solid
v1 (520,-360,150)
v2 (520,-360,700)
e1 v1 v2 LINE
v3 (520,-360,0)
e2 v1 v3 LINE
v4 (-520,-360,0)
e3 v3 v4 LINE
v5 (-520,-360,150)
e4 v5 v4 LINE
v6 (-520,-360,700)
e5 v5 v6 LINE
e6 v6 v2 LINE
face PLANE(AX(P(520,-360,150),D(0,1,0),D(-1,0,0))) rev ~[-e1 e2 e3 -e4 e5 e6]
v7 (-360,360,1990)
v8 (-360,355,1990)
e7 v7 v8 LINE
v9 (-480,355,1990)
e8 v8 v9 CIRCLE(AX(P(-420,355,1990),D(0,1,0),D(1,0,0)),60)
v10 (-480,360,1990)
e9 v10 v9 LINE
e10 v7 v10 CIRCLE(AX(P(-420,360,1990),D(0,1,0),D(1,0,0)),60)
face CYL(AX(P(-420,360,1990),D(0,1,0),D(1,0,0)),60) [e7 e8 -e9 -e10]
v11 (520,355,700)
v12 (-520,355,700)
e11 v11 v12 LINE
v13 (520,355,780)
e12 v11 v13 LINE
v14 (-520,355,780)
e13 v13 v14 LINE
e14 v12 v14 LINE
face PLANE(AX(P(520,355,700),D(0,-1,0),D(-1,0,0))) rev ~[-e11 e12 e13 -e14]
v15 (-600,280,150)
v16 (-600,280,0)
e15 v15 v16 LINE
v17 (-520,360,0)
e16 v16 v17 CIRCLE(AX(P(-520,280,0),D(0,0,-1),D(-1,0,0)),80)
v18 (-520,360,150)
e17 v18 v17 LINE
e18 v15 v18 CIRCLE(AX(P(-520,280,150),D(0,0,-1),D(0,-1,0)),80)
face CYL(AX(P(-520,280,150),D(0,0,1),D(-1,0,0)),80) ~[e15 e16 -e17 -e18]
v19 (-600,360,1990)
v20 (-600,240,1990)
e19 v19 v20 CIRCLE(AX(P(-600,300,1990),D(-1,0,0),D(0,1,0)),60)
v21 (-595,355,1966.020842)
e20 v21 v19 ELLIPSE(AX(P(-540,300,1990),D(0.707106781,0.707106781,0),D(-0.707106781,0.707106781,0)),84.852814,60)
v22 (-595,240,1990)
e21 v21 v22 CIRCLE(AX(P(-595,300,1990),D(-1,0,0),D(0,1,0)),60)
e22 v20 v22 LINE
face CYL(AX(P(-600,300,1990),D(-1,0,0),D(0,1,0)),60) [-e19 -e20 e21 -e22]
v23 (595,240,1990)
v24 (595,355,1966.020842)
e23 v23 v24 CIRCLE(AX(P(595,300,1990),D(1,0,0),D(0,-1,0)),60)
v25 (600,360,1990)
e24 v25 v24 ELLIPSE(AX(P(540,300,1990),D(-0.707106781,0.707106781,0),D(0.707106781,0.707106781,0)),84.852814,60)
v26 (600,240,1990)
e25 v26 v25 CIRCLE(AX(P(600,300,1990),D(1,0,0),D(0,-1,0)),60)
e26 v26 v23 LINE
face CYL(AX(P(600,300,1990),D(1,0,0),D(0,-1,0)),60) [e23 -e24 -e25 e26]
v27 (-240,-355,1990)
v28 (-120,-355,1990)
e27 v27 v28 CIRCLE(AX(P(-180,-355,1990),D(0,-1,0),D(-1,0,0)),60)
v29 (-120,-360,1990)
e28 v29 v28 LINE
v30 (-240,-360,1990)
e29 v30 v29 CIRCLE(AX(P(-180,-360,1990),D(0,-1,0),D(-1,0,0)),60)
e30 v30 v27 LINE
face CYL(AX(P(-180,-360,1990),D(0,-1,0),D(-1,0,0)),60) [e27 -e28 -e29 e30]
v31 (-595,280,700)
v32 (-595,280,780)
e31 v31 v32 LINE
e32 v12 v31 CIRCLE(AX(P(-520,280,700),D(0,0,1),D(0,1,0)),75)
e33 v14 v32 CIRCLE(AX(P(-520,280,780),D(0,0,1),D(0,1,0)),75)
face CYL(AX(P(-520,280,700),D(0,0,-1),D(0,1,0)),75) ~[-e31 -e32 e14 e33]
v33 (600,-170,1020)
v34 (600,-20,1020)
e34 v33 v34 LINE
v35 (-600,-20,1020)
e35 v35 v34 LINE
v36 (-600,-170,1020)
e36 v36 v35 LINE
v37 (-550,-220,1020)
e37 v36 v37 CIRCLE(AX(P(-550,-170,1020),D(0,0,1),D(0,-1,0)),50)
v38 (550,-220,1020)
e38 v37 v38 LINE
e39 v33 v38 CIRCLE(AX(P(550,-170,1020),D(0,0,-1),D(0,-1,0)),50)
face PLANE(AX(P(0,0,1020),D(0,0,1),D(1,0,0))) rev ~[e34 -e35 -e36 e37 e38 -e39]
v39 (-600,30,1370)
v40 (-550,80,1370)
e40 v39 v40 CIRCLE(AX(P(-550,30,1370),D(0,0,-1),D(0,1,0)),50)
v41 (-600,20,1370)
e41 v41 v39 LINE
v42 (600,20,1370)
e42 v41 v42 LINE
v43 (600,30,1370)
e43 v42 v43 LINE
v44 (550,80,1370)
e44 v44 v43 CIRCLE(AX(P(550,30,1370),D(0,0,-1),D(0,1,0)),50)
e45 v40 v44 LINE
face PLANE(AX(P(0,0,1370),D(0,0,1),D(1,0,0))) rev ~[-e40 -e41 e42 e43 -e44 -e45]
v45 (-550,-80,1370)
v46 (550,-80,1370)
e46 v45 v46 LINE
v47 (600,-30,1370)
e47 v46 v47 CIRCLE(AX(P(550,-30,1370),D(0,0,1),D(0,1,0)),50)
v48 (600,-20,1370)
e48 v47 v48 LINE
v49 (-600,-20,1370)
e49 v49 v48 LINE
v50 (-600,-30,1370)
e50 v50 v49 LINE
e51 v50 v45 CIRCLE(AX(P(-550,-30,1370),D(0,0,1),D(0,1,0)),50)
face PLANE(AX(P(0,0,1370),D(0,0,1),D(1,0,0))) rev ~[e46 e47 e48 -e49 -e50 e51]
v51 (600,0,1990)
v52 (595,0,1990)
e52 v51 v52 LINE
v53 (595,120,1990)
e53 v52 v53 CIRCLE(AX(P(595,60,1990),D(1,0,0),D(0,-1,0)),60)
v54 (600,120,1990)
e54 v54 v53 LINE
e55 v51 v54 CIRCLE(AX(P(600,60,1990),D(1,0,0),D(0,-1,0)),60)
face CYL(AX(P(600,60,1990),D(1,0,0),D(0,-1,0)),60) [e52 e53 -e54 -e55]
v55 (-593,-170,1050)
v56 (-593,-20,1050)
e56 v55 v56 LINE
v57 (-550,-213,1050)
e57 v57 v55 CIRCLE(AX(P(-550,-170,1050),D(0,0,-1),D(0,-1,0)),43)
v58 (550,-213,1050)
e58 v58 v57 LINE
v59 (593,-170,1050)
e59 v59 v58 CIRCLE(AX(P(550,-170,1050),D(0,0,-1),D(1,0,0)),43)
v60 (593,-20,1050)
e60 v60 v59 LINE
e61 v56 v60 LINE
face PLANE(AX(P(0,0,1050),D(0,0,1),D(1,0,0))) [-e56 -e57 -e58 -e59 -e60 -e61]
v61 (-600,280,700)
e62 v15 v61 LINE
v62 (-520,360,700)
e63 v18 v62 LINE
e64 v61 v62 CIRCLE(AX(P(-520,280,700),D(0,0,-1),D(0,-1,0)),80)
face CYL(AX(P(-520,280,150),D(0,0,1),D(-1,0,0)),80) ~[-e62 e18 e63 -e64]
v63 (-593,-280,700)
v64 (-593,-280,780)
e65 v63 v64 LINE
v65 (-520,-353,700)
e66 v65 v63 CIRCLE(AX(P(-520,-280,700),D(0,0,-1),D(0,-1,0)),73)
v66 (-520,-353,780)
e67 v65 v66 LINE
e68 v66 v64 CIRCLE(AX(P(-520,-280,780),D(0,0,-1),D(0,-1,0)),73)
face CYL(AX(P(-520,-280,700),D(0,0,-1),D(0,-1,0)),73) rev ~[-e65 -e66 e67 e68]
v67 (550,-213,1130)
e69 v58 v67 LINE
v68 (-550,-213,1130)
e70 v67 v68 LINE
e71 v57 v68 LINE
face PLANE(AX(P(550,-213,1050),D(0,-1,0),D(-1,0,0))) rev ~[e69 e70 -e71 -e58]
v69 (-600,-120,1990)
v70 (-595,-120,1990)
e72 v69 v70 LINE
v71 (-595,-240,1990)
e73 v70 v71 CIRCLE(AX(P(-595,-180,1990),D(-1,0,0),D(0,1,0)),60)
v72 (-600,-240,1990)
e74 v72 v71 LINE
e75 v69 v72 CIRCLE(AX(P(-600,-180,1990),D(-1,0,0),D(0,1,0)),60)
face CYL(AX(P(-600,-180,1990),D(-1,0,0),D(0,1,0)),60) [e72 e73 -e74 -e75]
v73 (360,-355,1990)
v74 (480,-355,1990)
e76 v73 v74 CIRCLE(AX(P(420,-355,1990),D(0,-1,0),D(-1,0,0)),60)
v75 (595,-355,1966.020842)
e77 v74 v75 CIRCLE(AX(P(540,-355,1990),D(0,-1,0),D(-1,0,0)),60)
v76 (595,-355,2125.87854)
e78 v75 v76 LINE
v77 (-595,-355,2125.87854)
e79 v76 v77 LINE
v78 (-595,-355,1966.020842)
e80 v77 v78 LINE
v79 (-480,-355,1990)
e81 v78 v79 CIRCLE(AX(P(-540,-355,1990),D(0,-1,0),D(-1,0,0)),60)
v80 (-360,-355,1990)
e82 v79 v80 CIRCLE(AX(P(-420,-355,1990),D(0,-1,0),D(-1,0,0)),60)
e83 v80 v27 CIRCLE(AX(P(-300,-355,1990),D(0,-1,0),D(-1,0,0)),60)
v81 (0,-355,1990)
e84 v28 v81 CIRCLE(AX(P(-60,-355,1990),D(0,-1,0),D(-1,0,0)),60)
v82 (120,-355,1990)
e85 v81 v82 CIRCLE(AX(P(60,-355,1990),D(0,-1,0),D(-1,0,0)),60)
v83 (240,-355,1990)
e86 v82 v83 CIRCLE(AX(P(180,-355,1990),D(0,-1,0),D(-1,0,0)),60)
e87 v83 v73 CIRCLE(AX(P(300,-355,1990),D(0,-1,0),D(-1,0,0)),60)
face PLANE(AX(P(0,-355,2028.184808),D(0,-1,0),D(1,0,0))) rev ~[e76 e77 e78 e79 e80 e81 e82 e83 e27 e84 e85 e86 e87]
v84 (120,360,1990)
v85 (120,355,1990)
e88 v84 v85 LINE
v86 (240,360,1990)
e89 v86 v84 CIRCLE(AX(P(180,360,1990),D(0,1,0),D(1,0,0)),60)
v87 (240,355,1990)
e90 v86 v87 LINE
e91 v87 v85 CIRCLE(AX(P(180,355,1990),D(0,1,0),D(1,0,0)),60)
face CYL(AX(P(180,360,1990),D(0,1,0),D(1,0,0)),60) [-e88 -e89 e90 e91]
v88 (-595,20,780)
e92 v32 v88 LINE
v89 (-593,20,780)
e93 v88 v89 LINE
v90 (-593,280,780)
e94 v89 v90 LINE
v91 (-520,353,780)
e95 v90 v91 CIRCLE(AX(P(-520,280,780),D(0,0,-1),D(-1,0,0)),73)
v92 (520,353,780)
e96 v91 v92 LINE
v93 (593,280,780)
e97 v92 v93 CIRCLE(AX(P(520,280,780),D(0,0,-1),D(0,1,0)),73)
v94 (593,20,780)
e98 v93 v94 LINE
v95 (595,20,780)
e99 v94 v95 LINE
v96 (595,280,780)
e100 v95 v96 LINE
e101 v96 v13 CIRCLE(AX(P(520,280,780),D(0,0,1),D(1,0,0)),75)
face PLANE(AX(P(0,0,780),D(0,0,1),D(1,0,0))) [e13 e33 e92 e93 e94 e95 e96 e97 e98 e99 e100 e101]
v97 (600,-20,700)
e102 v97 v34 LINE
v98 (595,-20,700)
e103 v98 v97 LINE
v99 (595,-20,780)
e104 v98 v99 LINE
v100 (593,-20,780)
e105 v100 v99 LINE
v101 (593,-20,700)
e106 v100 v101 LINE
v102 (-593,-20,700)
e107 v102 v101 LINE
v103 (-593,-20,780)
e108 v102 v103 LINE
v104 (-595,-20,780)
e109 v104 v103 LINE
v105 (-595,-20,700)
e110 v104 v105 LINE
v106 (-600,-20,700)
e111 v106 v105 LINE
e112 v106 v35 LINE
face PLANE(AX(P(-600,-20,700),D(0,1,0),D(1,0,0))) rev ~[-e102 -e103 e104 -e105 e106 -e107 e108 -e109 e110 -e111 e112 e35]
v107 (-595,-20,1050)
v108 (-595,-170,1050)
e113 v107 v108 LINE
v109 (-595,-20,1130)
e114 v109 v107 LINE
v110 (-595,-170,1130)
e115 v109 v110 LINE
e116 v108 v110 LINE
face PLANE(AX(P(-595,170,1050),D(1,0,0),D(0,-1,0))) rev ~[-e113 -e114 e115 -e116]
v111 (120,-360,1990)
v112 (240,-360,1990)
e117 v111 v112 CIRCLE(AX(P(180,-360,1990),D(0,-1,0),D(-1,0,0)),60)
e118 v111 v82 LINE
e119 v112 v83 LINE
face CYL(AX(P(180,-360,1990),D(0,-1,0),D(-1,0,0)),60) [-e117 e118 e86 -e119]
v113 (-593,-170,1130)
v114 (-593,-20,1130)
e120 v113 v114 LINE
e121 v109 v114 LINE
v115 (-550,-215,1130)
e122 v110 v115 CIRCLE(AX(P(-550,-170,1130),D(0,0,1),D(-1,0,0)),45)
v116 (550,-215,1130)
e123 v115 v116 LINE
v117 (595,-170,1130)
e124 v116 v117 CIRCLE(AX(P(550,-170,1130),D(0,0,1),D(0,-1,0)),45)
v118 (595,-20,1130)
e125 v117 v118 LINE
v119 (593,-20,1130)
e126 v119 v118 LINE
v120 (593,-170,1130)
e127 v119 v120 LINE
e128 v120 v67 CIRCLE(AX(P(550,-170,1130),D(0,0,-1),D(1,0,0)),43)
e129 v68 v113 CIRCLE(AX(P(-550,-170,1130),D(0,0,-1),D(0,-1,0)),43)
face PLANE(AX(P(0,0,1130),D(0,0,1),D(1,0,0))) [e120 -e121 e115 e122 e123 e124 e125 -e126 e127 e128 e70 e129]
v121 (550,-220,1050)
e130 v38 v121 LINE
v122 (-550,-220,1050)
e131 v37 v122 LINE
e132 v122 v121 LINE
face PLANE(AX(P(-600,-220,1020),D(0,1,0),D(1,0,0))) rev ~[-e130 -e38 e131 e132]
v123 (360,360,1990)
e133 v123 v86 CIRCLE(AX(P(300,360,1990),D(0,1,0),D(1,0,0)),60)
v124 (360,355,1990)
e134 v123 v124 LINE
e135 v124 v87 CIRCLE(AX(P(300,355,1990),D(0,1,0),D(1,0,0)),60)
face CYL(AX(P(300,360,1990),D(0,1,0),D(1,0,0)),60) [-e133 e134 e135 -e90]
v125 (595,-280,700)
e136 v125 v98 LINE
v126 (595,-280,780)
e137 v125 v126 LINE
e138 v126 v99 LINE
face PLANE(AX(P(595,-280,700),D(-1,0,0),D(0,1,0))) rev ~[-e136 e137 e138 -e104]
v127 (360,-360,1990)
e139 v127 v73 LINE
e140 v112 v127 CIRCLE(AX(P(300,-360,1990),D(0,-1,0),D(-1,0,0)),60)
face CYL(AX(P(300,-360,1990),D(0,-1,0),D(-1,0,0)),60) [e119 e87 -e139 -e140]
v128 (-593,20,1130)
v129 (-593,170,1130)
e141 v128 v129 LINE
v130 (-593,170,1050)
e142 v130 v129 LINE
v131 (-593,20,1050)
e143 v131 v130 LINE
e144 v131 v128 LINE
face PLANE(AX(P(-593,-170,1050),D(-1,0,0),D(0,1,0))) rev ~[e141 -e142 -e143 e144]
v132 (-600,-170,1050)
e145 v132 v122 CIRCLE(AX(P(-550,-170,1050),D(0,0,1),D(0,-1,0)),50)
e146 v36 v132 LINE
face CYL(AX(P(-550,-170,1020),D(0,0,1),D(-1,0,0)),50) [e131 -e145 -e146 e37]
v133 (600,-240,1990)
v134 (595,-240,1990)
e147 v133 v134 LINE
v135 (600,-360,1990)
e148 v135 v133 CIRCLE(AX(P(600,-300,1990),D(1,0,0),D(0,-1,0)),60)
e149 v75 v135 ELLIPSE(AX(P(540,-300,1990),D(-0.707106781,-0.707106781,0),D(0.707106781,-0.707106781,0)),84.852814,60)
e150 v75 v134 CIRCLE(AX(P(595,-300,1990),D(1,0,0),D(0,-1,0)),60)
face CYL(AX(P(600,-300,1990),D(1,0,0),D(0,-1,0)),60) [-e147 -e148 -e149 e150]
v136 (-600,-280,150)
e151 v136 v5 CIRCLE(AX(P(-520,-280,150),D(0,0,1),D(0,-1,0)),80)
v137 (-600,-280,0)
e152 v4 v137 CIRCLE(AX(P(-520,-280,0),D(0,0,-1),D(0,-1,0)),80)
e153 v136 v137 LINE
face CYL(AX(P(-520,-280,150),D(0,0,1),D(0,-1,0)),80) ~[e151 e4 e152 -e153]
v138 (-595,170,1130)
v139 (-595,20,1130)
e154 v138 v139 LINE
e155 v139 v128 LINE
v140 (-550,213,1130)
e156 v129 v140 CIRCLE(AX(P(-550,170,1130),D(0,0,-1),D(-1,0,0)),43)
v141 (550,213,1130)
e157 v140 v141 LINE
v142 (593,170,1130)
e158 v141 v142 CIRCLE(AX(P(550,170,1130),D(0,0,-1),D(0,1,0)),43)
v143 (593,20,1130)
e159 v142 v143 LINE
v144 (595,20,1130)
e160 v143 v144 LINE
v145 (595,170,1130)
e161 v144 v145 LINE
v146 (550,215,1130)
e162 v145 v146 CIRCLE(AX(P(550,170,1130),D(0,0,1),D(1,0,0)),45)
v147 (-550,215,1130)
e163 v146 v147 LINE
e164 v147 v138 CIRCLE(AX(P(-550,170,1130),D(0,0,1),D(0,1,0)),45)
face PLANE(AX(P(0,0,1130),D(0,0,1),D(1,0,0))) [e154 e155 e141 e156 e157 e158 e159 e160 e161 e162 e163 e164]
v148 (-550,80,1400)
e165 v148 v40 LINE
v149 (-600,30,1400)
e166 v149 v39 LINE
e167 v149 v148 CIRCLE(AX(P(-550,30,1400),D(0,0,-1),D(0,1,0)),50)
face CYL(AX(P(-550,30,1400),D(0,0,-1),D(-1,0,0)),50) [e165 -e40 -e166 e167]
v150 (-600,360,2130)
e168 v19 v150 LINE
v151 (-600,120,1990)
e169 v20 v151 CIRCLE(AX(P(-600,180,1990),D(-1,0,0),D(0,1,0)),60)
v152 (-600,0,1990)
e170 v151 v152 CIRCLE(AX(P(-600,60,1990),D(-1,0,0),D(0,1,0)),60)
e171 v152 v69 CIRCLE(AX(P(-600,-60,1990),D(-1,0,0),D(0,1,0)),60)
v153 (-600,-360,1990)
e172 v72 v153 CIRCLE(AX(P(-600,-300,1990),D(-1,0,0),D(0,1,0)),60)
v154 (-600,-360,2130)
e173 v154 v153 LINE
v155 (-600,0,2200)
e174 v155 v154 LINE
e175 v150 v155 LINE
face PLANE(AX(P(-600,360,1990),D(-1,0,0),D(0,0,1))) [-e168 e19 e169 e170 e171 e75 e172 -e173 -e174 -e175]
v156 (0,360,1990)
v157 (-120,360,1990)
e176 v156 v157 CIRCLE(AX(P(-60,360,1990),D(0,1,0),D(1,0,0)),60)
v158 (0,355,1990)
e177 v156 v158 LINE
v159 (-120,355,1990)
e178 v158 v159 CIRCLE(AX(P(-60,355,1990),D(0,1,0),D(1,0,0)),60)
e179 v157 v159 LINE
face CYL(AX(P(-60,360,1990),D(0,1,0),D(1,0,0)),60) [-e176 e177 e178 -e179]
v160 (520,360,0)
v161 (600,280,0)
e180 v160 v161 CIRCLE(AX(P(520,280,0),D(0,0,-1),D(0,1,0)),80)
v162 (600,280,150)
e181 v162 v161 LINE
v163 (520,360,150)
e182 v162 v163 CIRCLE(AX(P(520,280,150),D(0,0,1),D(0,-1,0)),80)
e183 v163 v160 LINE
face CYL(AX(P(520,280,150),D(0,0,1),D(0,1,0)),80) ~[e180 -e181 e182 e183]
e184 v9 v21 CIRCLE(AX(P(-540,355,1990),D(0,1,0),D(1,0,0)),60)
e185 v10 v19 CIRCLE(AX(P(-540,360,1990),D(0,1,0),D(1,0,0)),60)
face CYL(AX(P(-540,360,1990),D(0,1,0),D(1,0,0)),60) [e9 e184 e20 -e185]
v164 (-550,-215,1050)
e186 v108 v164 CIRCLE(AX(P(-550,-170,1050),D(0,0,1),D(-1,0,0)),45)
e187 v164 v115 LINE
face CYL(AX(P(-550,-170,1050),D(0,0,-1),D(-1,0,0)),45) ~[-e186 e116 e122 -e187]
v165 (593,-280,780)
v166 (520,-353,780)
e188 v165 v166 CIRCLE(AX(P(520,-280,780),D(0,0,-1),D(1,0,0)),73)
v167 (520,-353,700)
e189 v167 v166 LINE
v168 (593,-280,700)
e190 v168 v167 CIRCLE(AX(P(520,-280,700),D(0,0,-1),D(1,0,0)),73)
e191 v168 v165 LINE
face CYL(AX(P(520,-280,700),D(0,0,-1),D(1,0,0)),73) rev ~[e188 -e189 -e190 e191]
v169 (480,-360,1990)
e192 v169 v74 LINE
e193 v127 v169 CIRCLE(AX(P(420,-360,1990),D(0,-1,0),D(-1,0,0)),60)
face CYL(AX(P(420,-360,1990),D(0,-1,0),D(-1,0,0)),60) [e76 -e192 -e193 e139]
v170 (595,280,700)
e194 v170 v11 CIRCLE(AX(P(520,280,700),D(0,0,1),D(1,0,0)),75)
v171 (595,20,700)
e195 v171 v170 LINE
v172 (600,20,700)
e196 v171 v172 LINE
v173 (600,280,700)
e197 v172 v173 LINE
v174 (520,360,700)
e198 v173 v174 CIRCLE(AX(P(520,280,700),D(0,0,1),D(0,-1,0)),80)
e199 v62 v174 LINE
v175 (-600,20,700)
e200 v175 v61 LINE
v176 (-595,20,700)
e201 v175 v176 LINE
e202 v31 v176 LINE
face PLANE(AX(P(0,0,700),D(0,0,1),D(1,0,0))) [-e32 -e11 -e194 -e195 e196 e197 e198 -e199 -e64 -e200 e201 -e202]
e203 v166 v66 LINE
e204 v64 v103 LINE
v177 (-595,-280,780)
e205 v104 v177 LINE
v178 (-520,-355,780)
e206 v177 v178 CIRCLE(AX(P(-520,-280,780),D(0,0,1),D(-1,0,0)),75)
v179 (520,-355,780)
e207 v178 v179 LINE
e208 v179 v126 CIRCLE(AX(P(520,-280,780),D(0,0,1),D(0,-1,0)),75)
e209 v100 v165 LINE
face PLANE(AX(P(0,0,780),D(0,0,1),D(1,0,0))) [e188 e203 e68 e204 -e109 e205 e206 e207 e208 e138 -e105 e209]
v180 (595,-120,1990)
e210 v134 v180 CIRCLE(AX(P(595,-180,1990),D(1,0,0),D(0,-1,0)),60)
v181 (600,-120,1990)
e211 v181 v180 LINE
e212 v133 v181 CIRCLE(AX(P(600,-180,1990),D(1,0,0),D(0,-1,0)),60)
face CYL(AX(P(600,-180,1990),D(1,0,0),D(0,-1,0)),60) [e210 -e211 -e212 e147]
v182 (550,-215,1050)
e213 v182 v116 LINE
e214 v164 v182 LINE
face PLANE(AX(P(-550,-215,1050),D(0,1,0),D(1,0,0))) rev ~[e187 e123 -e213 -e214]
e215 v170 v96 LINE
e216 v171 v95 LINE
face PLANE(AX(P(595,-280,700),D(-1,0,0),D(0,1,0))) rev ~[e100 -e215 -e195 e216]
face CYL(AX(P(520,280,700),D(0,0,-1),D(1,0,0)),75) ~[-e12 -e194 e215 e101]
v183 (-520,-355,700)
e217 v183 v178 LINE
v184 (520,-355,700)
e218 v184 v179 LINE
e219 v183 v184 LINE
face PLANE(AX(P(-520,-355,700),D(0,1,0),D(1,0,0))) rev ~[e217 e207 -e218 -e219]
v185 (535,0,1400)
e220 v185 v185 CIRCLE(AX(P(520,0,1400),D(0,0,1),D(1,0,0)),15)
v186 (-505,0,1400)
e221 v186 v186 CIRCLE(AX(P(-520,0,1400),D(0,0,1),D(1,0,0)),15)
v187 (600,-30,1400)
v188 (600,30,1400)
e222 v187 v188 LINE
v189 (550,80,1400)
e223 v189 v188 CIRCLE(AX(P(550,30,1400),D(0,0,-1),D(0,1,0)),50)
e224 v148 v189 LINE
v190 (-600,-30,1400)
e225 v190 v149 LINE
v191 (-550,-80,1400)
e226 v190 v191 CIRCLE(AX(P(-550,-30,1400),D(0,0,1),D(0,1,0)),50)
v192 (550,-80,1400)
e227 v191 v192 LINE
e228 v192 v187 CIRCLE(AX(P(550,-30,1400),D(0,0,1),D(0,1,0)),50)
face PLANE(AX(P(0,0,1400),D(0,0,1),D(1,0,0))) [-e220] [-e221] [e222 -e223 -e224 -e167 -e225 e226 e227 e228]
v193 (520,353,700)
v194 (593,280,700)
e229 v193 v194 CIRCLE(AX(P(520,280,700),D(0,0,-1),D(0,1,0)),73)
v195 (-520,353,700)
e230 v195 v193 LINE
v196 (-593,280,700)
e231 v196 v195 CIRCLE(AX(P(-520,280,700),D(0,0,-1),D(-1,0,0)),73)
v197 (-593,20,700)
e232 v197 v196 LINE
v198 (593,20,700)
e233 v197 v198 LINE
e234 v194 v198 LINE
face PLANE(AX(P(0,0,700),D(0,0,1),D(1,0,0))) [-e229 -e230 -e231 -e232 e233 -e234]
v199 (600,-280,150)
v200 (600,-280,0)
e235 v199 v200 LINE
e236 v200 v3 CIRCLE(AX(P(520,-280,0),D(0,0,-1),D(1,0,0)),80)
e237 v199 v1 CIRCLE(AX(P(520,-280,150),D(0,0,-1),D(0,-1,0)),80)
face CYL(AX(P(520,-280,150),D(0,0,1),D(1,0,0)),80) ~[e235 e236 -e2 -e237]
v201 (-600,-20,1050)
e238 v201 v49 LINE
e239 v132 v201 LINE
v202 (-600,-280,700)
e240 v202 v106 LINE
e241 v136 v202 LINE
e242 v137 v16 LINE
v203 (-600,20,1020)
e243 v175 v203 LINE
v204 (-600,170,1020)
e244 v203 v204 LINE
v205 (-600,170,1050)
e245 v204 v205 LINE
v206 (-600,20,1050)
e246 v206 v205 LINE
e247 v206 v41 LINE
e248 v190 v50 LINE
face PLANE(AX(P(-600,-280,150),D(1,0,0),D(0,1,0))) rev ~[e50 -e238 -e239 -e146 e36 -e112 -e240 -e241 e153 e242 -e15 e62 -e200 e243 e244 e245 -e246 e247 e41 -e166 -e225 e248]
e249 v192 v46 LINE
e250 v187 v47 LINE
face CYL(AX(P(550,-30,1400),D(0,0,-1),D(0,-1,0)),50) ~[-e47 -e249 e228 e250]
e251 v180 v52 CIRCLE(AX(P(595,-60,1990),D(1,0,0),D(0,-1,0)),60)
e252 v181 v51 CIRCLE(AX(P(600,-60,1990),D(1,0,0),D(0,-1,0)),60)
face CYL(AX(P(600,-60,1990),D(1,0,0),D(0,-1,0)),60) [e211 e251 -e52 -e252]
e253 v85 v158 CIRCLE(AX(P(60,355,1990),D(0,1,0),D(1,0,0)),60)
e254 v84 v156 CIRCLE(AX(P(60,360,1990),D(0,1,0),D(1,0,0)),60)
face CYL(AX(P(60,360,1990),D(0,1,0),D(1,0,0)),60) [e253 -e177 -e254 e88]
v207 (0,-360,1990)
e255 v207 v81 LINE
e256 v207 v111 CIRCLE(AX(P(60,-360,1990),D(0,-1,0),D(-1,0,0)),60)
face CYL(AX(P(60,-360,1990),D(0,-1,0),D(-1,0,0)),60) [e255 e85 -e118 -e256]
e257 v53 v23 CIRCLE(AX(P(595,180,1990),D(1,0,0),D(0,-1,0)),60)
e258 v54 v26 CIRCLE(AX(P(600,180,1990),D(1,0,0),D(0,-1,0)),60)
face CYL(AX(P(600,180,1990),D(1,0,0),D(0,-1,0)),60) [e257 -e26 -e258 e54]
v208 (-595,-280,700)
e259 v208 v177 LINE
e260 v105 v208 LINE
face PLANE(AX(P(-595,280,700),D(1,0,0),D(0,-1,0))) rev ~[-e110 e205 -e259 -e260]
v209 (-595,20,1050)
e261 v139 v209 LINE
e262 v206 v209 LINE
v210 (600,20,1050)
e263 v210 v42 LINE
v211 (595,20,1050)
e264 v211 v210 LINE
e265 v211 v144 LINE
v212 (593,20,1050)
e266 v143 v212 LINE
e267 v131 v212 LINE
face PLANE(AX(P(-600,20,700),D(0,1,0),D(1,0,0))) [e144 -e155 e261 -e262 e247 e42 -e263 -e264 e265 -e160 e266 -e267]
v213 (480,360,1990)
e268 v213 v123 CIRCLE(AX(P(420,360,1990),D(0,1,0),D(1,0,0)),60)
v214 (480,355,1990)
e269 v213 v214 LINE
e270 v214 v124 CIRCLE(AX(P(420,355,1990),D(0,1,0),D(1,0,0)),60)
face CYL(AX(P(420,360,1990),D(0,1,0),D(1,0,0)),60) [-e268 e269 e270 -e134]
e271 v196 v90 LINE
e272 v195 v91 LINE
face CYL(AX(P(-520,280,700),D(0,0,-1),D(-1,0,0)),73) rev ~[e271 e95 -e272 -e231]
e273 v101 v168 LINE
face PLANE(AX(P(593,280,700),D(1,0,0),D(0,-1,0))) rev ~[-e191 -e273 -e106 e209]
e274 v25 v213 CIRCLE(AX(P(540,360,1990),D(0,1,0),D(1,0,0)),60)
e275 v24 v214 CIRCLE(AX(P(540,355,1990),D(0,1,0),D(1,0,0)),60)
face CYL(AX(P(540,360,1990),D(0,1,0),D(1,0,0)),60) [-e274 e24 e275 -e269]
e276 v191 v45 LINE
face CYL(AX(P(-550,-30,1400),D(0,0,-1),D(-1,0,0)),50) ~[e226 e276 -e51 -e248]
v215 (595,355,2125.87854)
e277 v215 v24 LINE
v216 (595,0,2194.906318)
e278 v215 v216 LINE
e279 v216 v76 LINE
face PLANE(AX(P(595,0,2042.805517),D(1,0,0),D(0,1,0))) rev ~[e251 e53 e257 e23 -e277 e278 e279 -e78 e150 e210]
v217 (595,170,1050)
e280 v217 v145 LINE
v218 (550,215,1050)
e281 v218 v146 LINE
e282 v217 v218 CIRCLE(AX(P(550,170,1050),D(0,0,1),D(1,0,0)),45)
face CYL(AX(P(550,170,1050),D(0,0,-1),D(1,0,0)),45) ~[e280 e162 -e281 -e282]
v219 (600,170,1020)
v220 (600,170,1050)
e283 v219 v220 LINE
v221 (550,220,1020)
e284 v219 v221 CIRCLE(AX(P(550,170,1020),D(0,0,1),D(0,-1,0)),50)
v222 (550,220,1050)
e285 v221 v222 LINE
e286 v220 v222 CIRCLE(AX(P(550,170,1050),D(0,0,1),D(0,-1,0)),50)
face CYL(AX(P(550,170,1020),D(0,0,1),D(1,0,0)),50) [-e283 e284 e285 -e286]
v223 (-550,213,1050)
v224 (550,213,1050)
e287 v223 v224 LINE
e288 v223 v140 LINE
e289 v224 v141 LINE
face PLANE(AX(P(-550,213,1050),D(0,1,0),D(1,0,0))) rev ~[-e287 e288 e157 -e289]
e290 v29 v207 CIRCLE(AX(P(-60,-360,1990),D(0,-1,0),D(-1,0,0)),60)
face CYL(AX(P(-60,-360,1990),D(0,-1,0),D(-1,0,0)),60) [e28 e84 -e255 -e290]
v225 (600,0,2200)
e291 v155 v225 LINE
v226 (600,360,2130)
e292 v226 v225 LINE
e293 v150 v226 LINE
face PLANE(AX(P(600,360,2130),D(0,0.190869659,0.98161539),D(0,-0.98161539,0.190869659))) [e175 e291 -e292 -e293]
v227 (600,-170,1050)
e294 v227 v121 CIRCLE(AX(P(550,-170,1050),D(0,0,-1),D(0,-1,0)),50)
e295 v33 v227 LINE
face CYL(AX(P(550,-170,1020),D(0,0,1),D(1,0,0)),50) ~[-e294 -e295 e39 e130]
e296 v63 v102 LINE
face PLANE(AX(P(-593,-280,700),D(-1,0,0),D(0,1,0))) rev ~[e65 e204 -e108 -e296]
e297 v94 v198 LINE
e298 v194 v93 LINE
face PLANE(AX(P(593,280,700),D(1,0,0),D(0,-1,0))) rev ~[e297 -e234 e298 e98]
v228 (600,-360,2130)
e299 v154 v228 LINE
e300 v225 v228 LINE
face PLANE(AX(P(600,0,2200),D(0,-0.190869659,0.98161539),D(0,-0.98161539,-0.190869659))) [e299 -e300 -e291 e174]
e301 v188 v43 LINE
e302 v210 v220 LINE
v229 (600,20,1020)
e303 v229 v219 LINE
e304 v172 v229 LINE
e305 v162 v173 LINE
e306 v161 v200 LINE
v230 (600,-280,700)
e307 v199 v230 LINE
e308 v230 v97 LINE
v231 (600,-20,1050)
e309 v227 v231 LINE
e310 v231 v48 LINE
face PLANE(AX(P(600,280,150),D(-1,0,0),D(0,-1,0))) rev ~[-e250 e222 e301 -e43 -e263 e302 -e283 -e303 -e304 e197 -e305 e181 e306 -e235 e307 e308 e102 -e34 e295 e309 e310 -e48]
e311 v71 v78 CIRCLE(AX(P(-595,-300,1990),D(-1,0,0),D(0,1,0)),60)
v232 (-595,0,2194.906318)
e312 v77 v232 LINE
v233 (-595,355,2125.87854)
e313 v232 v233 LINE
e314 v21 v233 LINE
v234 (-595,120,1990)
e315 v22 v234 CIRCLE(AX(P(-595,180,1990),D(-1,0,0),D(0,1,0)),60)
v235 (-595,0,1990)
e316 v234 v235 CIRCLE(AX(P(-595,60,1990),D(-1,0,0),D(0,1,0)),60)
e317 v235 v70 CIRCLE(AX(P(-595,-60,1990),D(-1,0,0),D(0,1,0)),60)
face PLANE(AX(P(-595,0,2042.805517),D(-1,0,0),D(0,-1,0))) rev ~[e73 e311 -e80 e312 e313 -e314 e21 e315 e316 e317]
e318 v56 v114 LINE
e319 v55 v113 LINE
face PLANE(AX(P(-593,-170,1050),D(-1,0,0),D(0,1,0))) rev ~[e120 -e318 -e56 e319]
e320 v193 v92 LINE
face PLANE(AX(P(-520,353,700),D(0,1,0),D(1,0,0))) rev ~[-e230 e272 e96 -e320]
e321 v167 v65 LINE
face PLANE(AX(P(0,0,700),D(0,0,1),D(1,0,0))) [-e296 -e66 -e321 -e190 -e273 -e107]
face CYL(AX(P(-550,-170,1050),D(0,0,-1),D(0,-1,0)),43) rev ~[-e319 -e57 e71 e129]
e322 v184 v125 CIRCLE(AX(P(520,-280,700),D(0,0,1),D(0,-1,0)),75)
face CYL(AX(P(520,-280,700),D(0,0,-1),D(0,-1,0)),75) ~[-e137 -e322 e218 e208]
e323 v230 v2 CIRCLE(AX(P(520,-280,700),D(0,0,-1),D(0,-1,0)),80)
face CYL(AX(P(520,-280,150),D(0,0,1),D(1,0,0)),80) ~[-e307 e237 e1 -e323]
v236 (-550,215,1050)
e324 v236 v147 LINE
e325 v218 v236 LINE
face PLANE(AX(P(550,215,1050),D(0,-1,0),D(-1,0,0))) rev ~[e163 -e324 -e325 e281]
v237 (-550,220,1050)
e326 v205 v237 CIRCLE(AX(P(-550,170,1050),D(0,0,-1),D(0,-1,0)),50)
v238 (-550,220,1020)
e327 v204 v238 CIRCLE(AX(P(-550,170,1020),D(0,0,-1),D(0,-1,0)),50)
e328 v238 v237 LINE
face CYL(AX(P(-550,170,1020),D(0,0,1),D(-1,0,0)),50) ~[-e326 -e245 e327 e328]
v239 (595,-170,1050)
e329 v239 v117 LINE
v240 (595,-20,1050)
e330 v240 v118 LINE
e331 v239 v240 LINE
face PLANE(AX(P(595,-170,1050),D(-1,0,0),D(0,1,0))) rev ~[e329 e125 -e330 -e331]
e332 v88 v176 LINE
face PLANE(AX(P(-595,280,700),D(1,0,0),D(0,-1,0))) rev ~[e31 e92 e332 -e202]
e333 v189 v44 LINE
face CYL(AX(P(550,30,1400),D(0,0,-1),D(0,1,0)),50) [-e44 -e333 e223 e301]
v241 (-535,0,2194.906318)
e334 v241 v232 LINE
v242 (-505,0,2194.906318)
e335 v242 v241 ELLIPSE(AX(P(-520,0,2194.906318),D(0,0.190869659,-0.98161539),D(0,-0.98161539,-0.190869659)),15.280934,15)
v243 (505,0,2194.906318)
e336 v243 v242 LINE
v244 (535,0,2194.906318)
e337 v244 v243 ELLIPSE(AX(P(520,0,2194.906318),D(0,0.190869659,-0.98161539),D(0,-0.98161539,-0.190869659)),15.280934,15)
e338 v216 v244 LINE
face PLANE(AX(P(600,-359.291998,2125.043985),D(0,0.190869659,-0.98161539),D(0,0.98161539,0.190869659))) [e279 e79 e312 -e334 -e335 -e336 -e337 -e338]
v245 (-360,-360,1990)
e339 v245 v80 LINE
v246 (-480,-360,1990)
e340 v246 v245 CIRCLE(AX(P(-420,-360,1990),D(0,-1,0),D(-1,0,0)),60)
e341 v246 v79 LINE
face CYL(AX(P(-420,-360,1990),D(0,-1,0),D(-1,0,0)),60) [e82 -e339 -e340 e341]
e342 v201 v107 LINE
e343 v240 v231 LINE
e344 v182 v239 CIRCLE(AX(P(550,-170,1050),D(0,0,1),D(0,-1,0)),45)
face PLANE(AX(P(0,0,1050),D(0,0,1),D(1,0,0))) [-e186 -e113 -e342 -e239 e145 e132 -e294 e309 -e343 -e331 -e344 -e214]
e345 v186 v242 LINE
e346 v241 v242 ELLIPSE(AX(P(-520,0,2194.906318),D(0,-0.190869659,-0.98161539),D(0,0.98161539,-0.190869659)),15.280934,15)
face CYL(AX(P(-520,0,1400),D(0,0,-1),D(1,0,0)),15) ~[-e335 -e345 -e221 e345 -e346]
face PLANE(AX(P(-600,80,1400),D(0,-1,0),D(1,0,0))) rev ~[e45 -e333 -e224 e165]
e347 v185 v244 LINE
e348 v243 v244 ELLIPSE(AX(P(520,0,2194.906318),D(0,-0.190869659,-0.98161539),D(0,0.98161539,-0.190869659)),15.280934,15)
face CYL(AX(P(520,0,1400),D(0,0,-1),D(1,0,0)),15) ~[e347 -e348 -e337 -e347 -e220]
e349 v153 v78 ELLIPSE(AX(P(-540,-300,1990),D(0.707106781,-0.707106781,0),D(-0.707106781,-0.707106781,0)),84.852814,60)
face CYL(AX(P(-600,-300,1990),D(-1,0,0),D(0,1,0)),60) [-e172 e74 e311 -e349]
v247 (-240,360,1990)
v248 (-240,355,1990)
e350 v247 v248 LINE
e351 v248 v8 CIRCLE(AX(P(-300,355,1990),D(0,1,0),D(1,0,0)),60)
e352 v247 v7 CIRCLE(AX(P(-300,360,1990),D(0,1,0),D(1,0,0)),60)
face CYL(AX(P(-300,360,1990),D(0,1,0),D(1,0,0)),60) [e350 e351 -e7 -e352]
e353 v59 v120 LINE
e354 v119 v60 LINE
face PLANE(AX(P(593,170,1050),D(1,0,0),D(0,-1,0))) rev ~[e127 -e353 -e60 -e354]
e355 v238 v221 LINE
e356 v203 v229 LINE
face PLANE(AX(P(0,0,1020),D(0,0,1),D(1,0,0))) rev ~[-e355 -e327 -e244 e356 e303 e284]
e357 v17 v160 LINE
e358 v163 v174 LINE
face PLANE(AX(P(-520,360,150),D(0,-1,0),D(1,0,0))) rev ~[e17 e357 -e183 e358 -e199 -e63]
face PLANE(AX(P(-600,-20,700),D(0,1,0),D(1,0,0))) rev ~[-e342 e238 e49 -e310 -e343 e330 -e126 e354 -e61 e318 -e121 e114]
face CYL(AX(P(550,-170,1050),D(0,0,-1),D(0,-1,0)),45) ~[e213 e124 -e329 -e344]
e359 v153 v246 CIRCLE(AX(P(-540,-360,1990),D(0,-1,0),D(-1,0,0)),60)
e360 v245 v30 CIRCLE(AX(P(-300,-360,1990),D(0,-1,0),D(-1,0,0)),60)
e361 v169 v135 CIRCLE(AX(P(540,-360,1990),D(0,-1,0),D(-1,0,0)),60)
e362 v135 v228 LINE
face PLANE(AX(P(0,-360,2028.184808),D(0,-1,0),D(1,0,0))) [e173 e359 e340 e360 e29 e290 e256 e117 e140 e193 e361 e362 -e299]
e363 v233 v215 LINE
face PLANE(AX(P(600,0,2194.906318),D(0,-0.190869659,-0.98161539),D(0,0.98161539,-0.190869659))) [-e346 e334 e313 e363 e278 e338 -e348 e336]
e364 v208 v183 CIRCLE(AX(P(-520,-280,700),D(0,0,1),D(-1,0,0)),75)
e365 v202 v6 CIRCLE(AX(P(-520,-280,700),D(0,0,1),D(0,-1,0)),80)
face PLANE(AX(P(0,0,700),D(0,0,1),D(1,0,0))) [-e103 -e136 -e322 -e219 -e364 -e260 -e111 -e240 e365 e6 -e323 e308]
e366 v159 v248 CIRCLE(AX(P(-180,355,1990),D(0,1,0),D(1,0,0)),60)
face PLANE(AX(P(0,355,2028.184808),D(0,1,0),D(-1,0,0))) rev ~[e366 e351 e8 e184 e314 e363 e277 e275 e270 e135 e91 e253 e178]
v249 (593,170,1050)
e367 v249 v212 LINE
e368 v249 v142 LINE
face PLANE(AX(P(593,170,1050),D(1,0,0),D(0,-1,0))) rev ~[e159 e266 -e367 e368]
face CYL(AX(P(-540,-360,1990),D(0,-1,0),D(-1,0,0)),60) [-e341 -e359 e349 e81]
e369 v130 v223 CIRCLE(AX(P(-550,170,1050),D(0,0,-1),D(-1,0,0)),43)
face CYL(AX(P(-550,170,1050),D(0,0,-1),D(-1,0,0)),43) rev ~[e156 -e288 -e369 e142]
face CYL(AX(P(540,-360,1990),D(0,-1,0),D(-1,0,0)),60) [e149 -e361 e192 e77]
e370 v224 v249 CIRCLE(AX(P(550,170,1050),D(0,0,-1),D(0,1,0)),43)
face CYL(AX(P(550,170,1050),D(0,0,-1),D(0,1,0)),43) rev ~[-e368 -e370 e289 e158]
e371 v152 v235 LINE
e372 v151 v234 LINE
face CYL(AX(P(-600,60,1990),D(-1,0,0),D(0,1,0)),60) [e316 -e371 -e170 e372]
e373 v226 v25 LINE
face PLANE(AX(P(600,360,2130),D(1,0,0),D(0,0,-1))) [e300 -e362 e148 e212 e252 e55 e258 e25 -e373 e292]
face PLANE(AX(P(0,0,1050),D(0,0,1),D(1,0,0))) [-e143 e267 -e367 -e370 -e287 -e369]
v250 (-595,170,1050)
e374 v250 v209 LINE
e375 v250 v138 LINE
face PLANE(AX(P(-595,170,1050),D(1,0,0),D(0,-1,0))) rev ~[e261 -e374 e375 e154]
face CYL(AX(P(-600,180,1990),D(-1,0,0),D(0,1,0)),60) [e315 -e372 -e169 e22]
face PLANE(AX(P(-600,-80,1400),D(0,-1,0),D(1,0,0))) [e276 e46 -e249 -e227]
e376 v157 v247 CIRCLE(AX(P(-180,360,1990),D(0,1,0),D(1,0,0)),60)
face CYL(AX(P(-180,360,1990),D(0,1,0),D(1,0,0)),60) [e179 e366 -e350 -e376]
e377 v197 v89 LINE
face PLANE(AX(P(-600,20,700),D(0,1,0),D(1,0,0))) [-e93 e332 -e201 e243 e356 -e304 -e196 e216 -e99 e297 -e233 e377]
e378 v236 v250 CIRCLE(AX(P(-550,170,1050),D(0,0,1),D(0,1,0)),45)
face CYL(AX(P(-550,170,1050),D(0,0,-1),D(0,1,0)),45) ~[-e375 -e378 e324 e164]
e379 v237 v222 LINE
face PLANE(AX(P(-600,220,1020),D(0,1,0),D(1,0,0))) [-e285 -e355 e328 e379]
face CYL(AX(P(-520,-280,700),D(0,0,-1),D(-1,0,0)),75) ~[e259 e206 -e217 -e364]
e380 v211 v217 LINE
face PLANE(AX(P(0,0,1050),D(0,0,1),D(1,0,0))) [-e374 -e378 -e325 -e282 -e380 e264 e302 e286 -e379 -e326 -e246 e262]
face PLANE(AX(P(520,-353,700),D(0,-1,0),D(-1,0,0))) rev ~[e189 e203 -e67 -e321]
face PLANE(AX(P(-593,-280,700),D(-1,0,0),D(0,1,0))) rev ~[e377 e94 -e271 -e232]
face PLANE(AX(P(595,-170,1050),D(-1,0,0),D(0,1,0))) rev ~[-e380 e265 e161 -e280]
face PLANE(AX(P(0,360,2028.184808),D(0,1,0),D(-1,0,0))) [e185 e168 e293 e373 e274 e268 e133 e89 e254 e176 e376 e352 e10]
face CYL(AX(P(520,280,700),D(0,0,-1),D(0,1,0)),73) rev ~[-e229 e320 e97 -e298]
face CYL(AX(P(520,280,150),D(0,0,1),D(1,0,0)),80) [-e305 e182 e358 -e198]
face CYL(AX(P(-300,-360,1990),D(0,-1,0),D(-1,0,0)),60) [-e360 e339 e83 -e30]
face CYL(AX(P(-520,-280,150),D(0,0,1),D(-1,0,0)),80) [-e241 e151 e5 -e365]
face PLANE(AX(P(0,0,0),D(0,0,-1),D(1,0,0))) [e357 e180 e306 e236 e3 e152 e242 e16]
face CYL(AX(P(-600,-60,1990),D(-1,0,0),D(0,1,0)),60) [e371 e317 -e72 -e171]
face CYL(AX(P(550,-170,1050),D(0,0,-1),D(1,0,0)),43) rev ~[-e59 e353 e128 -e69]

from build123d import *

# Parameters (mm, degrees)
F2_W      = 1100
F2_H      = 620
F3_DEPTH  = 150
F4_W      = 1200
F4_H      = 720
F5_DEPTH  = 550
F6_W      = 1200
F6_H      = 40
F7_DEPTH  = 700
F9_W      = 1200
F9_H      = 440
F10_DEPTH = 30
F11_W     = 1200
F11_H     = 160
F12_DEPTH = 30
F13_R     = 80
F14_R     = 85
F15_R     = 50
F16_R     = 50
F18_DEPTH = 80
F20_DEPTH = 80
F23_DEPTH = 1200
F25_DEPTH = 5
F27_DEPTH = 5
F29_DEPTH = 5
F31_DEPTH = 5
F32_R     = 15
F33_DEPTH = 794.9063180602
F35_DEPTH = 150


with BuildPart() as f3:
    # F2 (on Top) → F3 (new body, through all)
    with BuildSketch(Plane.XY):
        Rectangle(F2_W, F2_H)
    extrude(amount=F3_DEPTH)

    # F4 (on face) → F5 (join, through all)
    with BuildSketch(Plane.XY.offset(150)):
        Rectangle(F4_W, F4_H)
    extrude(amount=F5_DEPTH)

    # F6 (on face) → F7 (join, through all)
    with BuildSketch(Plane.XY.offset(700)):
        Rectangle(F6_W, F6_H)
    extrude(amount=F7_DEPTH)

    # F9 (on plane+point) → F10 (join, through all)
    with BuildSketch(Plane.XY.offset(1020)):
        Rectangle(F9_W, F9_H)
    extrude(amount=F10_DEPTH)

    # F11 (on face) → F12 (join, through all)
    with BuildSketch(Plane.XY.offset(1400)):
        Rectangle(F11_W, F11_H)
    extrude(amount=-F12_DEPTH)

    # F13
    f13_edges = [f3.edges().sort_by_distance(p)[0] for p in [
        (600, -360, 425),
        (-600, -360, 425),
        (600, 360, 425),
        (-600, 360, 425),
    ]]
    fillet(f13_edges, radius=F13_R)

    # F14
    f14_edges = [f3.edges().sort_by_distance(p)[0] for p in [
        (-550, 310, 75),
        (-550, -310, 75),
        (550, -310, 75),
        (550, 310, 75),
    ]]
    fillet(f14_edges, radius=F14_R)

    # F15
    f15_edges = [f3.edges().sort_by_distance(p)[0] for p in [
        (600, 220, 1035),
        (-600, 220, 1035),
        (-600, -220, 1035),
        (600, -220, 1035),
    ]]
    fillet(f15_edges, radius=F15_R)

    # F16
    f16_edges = [f3.edges().sort_by_distance(p)[0] for p in [
        (600, -80, 1385),
        (600, 80, 1385),
        (-600, -80, 1385),
        (-600, 80, 1385),
    ]]
    fillet(f16_edges, radius=F16_R)

    # F17 (on face) → F18 (join)
    with BuildSketch(Plane.XY.offset(700)):
        with BuildLine():
            ThreePointArc((-520, 355), (-573.033008589, 333.033008589), (-595, 280))
            Line((-595, 280), (-595, -280))
            ThreePointArc((-595, -280), (-573.033008589, -333.033008589), (-520, -355))
            Line((-520, -355), (520, -355))
            ThreePointArc((520, -355), (573.033008589, -333.033008589), (595, -280))
            Line((595, -280), (595, 280))
            ThreePointArc((595, 280), (573.033008589, 333.033008589), (520, 355))
            Line((520, 355), (-520, 355))
        make_face()
        with BuildLine():
            ThreePointArc((593, -280), (571.6187950266, -331.6187950266), (520, -353))
            Line((520, -353), (-520, -353))
            ThreePointArc((-520, -353), (-571.6187950266, -331.6187950266), (-593, -280))
            Line((-593, -280), (-593, 280))
            ThreePointArc((-593, 280), (-571.6187950266, 331.6187950266), (-520, 353))
            Line((-520, 353), (520, 353))
            ThreePointArc((520, 353), (571.6187950266, 331.6187950266), (593, 280))
            Line((593, 280), (593, -280))
        make_face(mode=Mode.SUBTRACT)
    extrude(amount=F18_DEPTH)

    # F19 (on face) → F20 (join)
    with BuildSketch(Plane.XY.offset(1050)):
        with BuildLine():
            ThreePointArc((-550, 215), (-581.8198051534, 201.8198051534), (-595, 170))
            Line((-595, 170), (-595, 15))
            Line((-595, 15), (-595, -15))
            Line((-595, -15), (-595, -170))
            ThreePointArc((-595, -170), (-581.8198051534, -201.8198051534), (-550, -215))
            Line((-550, -215), (550, -215))
            ThreePointArc((550, -215), (581.8198051534, -201.8198051534), (595, -170))
            Line((595, -170), (595, -15))
            Line((595, -15), (595, 15))
            Line((595, 15), (595, 170))
            ThreePointArc((595, 170), (581.8198051534, 201.8198051534), (550, 215))
            Line((550, 215), (-550, 215))
        make_face()
        with BuildLine():
            Line((593, 170), (593, 15))
            Line((593, 15), (593, -15))
            Line((593, -15), (593, -170))
            ThreePointArc((593, -170), (580.405591591, -200.405591591), (550, -213))
            Line((550, -213), (-550, -213))
            ThreePointArc((-550, -213), (-580.405591591, -200.405591591), (-593, -170))
            Line((-593, -170), (-593, -15))
            Line((-593, -15), (-593, 15))
            Line((-593, 15), (-593, 170))
            ThreePointArc((-593, 170), (-580.405591591, 200.405591591), (-550, 213))
            Line((-550, 213), (550, 213))
            ThreePointArc((550, 213), (580.405591591, 200.405591591), (593, 170))
        make_face(mode=Mode.SUBTRACT)
    extrude(amount=F20_DEPTH)



with BuildPart() as f23:
    # F22 (on face) → F23 (new body, through all)
    with BuildSketch(Plane.YZ.offset(600)):
        Polygon((360, 2130), (0, 2200), (-360, 2130), (-359.2919978771, 2125.0439851397), (0, 2194.9063180602), (359.2919978771, 2125.0439851397), align=None)
    extrude(amount=-F23_DEPTH)

    # F24 (on face) → F25 (join)
    with BuildSketch(Plane.XZ.offset(360)):
        with BuildLine():
            Line((600, 2130), (-600, 2130))
            Line((-600, 2130), (-600, 1990))
            ThreePointArc((-600, 1990), (-540, 1930), (-480, 1990))
            ThreePointArc((-480, 1990), (-420, 1930), (-360, 1990))
            ThreePointArc((-360, 1990), (-300, 1930), (-240, 1990))
            ThreePointArc((-240, 1990), (-180, 1930), (-120, 1990))
            ThreePointArc((-120, 1990), (-60, 1930), (0, 1990))
            ThreePointArc((0, 1990), (60, 1930), (120, 1990))
            ThreePointArc((120, 1990), (180, 1930), (240, 1990))
            ThreePointArc((240, 1990), (300, 1930), (360, 1990))
            ThreePointArc((360, 1990), (420, 1930), (480, 1990))
            ThreePointArc((480, 1990), (540, 1930), (600, 1990))
            Line((600, 1990), (600, 2130))
        make_face()
    extrude(amount=-F25_DEPTH)

    # F26 (on face) → F27 (join)
    with BuildSketch(Plane(origin=(0, 360, 0), x_dir=(-1, 0, 0), z_dir=(0, 1, 0))):
        with BuildLine():
            Line((600, 1990), (600, 2130))
            Line((600, 2130), (-600, 2130))
            Line((-600, 2130), (-600, 1990))
            ThreePointArc((-600, 1990), (-540, 1930), (-480, 1990))
            ThreePointArc((-480, 1990), (-420, 1930), (-360, 1990))
            ThreePointArc((-360, 1990), (-300, 1930), (-240, 1990))
            ThreePointArc((-240, 1990), (-180, 1930), (-120, 1990))
            ThreePointArc((-120, 1990), (-60, 1930), (0, 1990))
            ThreePointArc((0, 1990), (60, 1930), (120, 1990))
            ThreePointArc((120, 1990), (180, 1930), (240, 1990))
            ThreePointArc((240, 1990), (300, 1930), (360, 1990))
            ThreePointArc((360, 1990), (420, 1930), (480, 1990))
            ThreePointArc((480, 1990), (540, 1930), (600, 1990))
        make_face()
    extrude(amount=-F27_DEPTH)

    # F28 (on face) → F29 (join)
    with BuildSketch(Plane.YZ.offset(600)):
        with BuildLine():
            Line((360, 2130), (0, 2200))
            Line((0, 2200), (-360, 2130))
            Line((-360, 2130), (-360, 1990))
            ThreePointArc((-360, 1990), (-300, 1930), (-240, 1990))
            ThreePointArc((-240, 1990), (-180, 1930), (-120, 1990))
            ThreePointArc((-120, 1990), (-60, 1930), (0, 1990))
            ThreePointArc((0, 1990), (60, 1930), (120, 1990))
            ThreePointArc((120, 1990), (180, 1930), (240, 1990))
            ThreePointArc((240, 1990), (300, 1930), (360, 1990))
            Line((360, 1990), (360, 2130))
        make_face()
    extrude(amount=-F29_DEPTH)

    # F30 (on face) → F31 (join)
    with BuildSketch(Plane(origin=(-600, 0, 0), x_dir=(0, -1, 0), z_dir=(-1, 0, 0))):
        with BuildLine():
            Line((-360, 2130), (-360, 1990))
            ThreePointArc((-360, 1990), (-300, 1930), (-240, 1990))
            ThreePointArc((-240, 1990), (-180, 1930), (-120, 1990))
            ThreePointArc((-120, 1990), (-60, 1930), (0, 1990))
            ThreePointArc((0, 1990), (60, 1930), (120, 1990))
            ThreePointArc((120, 1990), (180, 1930), (240, 1990))
            ThreePointArc((240, 1990), (300, 1930), (360, 1990))
            Line((360, 1990), (360, 2130))
            Line((360, 2130), (0, 2200))
            Line((0, 2200), (-360, 2130))
        make_face()
    extrude(amount=-F31_DEPTH)


with BuildPart() as f3_1:
    add(f3.part)

    add(f23.part)  # F33 merges F23
    # F32 (on face) → F33 (join, through all)
    with BuildSketch(Plane.XY.offset(1400)):
        with Locations((-520, 0)):
            Circle(F32_R)
        with Locations((520, 0)):
            Circle(F32_R)
    extrude(amount=F33_DEPTH)

    # F34 (on face) → F35 (join, through all)
    with BuildSketch(Plane(origin=(0, 0, 150), x_dir=(1, 0, 0), z_dir=(0, 0, -1))):
        with BuildLine():
            Line((520, 360), (-520, 360))
            ThreePointArc((-520, 360), (-576.5685424949, 336.5685424949), (-600, 280))
            Line((-600, 280), (-600, -280))
            ThreePointArc((-600, -280), (-576.5685424949, -336.5685424949), (-520, -360))
            Line((-520, -360), (520, -360))
            ThreePointArc((520, -360), (576.5685424949, -336.5685424949), (600, -280))
            Line((600, -280), (600, 280))
            ThreePointArc((600, 280), (576.5685424949, 336.5685424949), (520, 360))
        make_face()
    extrude(amount=F35_DEPTH)


solid = f3_1.part
